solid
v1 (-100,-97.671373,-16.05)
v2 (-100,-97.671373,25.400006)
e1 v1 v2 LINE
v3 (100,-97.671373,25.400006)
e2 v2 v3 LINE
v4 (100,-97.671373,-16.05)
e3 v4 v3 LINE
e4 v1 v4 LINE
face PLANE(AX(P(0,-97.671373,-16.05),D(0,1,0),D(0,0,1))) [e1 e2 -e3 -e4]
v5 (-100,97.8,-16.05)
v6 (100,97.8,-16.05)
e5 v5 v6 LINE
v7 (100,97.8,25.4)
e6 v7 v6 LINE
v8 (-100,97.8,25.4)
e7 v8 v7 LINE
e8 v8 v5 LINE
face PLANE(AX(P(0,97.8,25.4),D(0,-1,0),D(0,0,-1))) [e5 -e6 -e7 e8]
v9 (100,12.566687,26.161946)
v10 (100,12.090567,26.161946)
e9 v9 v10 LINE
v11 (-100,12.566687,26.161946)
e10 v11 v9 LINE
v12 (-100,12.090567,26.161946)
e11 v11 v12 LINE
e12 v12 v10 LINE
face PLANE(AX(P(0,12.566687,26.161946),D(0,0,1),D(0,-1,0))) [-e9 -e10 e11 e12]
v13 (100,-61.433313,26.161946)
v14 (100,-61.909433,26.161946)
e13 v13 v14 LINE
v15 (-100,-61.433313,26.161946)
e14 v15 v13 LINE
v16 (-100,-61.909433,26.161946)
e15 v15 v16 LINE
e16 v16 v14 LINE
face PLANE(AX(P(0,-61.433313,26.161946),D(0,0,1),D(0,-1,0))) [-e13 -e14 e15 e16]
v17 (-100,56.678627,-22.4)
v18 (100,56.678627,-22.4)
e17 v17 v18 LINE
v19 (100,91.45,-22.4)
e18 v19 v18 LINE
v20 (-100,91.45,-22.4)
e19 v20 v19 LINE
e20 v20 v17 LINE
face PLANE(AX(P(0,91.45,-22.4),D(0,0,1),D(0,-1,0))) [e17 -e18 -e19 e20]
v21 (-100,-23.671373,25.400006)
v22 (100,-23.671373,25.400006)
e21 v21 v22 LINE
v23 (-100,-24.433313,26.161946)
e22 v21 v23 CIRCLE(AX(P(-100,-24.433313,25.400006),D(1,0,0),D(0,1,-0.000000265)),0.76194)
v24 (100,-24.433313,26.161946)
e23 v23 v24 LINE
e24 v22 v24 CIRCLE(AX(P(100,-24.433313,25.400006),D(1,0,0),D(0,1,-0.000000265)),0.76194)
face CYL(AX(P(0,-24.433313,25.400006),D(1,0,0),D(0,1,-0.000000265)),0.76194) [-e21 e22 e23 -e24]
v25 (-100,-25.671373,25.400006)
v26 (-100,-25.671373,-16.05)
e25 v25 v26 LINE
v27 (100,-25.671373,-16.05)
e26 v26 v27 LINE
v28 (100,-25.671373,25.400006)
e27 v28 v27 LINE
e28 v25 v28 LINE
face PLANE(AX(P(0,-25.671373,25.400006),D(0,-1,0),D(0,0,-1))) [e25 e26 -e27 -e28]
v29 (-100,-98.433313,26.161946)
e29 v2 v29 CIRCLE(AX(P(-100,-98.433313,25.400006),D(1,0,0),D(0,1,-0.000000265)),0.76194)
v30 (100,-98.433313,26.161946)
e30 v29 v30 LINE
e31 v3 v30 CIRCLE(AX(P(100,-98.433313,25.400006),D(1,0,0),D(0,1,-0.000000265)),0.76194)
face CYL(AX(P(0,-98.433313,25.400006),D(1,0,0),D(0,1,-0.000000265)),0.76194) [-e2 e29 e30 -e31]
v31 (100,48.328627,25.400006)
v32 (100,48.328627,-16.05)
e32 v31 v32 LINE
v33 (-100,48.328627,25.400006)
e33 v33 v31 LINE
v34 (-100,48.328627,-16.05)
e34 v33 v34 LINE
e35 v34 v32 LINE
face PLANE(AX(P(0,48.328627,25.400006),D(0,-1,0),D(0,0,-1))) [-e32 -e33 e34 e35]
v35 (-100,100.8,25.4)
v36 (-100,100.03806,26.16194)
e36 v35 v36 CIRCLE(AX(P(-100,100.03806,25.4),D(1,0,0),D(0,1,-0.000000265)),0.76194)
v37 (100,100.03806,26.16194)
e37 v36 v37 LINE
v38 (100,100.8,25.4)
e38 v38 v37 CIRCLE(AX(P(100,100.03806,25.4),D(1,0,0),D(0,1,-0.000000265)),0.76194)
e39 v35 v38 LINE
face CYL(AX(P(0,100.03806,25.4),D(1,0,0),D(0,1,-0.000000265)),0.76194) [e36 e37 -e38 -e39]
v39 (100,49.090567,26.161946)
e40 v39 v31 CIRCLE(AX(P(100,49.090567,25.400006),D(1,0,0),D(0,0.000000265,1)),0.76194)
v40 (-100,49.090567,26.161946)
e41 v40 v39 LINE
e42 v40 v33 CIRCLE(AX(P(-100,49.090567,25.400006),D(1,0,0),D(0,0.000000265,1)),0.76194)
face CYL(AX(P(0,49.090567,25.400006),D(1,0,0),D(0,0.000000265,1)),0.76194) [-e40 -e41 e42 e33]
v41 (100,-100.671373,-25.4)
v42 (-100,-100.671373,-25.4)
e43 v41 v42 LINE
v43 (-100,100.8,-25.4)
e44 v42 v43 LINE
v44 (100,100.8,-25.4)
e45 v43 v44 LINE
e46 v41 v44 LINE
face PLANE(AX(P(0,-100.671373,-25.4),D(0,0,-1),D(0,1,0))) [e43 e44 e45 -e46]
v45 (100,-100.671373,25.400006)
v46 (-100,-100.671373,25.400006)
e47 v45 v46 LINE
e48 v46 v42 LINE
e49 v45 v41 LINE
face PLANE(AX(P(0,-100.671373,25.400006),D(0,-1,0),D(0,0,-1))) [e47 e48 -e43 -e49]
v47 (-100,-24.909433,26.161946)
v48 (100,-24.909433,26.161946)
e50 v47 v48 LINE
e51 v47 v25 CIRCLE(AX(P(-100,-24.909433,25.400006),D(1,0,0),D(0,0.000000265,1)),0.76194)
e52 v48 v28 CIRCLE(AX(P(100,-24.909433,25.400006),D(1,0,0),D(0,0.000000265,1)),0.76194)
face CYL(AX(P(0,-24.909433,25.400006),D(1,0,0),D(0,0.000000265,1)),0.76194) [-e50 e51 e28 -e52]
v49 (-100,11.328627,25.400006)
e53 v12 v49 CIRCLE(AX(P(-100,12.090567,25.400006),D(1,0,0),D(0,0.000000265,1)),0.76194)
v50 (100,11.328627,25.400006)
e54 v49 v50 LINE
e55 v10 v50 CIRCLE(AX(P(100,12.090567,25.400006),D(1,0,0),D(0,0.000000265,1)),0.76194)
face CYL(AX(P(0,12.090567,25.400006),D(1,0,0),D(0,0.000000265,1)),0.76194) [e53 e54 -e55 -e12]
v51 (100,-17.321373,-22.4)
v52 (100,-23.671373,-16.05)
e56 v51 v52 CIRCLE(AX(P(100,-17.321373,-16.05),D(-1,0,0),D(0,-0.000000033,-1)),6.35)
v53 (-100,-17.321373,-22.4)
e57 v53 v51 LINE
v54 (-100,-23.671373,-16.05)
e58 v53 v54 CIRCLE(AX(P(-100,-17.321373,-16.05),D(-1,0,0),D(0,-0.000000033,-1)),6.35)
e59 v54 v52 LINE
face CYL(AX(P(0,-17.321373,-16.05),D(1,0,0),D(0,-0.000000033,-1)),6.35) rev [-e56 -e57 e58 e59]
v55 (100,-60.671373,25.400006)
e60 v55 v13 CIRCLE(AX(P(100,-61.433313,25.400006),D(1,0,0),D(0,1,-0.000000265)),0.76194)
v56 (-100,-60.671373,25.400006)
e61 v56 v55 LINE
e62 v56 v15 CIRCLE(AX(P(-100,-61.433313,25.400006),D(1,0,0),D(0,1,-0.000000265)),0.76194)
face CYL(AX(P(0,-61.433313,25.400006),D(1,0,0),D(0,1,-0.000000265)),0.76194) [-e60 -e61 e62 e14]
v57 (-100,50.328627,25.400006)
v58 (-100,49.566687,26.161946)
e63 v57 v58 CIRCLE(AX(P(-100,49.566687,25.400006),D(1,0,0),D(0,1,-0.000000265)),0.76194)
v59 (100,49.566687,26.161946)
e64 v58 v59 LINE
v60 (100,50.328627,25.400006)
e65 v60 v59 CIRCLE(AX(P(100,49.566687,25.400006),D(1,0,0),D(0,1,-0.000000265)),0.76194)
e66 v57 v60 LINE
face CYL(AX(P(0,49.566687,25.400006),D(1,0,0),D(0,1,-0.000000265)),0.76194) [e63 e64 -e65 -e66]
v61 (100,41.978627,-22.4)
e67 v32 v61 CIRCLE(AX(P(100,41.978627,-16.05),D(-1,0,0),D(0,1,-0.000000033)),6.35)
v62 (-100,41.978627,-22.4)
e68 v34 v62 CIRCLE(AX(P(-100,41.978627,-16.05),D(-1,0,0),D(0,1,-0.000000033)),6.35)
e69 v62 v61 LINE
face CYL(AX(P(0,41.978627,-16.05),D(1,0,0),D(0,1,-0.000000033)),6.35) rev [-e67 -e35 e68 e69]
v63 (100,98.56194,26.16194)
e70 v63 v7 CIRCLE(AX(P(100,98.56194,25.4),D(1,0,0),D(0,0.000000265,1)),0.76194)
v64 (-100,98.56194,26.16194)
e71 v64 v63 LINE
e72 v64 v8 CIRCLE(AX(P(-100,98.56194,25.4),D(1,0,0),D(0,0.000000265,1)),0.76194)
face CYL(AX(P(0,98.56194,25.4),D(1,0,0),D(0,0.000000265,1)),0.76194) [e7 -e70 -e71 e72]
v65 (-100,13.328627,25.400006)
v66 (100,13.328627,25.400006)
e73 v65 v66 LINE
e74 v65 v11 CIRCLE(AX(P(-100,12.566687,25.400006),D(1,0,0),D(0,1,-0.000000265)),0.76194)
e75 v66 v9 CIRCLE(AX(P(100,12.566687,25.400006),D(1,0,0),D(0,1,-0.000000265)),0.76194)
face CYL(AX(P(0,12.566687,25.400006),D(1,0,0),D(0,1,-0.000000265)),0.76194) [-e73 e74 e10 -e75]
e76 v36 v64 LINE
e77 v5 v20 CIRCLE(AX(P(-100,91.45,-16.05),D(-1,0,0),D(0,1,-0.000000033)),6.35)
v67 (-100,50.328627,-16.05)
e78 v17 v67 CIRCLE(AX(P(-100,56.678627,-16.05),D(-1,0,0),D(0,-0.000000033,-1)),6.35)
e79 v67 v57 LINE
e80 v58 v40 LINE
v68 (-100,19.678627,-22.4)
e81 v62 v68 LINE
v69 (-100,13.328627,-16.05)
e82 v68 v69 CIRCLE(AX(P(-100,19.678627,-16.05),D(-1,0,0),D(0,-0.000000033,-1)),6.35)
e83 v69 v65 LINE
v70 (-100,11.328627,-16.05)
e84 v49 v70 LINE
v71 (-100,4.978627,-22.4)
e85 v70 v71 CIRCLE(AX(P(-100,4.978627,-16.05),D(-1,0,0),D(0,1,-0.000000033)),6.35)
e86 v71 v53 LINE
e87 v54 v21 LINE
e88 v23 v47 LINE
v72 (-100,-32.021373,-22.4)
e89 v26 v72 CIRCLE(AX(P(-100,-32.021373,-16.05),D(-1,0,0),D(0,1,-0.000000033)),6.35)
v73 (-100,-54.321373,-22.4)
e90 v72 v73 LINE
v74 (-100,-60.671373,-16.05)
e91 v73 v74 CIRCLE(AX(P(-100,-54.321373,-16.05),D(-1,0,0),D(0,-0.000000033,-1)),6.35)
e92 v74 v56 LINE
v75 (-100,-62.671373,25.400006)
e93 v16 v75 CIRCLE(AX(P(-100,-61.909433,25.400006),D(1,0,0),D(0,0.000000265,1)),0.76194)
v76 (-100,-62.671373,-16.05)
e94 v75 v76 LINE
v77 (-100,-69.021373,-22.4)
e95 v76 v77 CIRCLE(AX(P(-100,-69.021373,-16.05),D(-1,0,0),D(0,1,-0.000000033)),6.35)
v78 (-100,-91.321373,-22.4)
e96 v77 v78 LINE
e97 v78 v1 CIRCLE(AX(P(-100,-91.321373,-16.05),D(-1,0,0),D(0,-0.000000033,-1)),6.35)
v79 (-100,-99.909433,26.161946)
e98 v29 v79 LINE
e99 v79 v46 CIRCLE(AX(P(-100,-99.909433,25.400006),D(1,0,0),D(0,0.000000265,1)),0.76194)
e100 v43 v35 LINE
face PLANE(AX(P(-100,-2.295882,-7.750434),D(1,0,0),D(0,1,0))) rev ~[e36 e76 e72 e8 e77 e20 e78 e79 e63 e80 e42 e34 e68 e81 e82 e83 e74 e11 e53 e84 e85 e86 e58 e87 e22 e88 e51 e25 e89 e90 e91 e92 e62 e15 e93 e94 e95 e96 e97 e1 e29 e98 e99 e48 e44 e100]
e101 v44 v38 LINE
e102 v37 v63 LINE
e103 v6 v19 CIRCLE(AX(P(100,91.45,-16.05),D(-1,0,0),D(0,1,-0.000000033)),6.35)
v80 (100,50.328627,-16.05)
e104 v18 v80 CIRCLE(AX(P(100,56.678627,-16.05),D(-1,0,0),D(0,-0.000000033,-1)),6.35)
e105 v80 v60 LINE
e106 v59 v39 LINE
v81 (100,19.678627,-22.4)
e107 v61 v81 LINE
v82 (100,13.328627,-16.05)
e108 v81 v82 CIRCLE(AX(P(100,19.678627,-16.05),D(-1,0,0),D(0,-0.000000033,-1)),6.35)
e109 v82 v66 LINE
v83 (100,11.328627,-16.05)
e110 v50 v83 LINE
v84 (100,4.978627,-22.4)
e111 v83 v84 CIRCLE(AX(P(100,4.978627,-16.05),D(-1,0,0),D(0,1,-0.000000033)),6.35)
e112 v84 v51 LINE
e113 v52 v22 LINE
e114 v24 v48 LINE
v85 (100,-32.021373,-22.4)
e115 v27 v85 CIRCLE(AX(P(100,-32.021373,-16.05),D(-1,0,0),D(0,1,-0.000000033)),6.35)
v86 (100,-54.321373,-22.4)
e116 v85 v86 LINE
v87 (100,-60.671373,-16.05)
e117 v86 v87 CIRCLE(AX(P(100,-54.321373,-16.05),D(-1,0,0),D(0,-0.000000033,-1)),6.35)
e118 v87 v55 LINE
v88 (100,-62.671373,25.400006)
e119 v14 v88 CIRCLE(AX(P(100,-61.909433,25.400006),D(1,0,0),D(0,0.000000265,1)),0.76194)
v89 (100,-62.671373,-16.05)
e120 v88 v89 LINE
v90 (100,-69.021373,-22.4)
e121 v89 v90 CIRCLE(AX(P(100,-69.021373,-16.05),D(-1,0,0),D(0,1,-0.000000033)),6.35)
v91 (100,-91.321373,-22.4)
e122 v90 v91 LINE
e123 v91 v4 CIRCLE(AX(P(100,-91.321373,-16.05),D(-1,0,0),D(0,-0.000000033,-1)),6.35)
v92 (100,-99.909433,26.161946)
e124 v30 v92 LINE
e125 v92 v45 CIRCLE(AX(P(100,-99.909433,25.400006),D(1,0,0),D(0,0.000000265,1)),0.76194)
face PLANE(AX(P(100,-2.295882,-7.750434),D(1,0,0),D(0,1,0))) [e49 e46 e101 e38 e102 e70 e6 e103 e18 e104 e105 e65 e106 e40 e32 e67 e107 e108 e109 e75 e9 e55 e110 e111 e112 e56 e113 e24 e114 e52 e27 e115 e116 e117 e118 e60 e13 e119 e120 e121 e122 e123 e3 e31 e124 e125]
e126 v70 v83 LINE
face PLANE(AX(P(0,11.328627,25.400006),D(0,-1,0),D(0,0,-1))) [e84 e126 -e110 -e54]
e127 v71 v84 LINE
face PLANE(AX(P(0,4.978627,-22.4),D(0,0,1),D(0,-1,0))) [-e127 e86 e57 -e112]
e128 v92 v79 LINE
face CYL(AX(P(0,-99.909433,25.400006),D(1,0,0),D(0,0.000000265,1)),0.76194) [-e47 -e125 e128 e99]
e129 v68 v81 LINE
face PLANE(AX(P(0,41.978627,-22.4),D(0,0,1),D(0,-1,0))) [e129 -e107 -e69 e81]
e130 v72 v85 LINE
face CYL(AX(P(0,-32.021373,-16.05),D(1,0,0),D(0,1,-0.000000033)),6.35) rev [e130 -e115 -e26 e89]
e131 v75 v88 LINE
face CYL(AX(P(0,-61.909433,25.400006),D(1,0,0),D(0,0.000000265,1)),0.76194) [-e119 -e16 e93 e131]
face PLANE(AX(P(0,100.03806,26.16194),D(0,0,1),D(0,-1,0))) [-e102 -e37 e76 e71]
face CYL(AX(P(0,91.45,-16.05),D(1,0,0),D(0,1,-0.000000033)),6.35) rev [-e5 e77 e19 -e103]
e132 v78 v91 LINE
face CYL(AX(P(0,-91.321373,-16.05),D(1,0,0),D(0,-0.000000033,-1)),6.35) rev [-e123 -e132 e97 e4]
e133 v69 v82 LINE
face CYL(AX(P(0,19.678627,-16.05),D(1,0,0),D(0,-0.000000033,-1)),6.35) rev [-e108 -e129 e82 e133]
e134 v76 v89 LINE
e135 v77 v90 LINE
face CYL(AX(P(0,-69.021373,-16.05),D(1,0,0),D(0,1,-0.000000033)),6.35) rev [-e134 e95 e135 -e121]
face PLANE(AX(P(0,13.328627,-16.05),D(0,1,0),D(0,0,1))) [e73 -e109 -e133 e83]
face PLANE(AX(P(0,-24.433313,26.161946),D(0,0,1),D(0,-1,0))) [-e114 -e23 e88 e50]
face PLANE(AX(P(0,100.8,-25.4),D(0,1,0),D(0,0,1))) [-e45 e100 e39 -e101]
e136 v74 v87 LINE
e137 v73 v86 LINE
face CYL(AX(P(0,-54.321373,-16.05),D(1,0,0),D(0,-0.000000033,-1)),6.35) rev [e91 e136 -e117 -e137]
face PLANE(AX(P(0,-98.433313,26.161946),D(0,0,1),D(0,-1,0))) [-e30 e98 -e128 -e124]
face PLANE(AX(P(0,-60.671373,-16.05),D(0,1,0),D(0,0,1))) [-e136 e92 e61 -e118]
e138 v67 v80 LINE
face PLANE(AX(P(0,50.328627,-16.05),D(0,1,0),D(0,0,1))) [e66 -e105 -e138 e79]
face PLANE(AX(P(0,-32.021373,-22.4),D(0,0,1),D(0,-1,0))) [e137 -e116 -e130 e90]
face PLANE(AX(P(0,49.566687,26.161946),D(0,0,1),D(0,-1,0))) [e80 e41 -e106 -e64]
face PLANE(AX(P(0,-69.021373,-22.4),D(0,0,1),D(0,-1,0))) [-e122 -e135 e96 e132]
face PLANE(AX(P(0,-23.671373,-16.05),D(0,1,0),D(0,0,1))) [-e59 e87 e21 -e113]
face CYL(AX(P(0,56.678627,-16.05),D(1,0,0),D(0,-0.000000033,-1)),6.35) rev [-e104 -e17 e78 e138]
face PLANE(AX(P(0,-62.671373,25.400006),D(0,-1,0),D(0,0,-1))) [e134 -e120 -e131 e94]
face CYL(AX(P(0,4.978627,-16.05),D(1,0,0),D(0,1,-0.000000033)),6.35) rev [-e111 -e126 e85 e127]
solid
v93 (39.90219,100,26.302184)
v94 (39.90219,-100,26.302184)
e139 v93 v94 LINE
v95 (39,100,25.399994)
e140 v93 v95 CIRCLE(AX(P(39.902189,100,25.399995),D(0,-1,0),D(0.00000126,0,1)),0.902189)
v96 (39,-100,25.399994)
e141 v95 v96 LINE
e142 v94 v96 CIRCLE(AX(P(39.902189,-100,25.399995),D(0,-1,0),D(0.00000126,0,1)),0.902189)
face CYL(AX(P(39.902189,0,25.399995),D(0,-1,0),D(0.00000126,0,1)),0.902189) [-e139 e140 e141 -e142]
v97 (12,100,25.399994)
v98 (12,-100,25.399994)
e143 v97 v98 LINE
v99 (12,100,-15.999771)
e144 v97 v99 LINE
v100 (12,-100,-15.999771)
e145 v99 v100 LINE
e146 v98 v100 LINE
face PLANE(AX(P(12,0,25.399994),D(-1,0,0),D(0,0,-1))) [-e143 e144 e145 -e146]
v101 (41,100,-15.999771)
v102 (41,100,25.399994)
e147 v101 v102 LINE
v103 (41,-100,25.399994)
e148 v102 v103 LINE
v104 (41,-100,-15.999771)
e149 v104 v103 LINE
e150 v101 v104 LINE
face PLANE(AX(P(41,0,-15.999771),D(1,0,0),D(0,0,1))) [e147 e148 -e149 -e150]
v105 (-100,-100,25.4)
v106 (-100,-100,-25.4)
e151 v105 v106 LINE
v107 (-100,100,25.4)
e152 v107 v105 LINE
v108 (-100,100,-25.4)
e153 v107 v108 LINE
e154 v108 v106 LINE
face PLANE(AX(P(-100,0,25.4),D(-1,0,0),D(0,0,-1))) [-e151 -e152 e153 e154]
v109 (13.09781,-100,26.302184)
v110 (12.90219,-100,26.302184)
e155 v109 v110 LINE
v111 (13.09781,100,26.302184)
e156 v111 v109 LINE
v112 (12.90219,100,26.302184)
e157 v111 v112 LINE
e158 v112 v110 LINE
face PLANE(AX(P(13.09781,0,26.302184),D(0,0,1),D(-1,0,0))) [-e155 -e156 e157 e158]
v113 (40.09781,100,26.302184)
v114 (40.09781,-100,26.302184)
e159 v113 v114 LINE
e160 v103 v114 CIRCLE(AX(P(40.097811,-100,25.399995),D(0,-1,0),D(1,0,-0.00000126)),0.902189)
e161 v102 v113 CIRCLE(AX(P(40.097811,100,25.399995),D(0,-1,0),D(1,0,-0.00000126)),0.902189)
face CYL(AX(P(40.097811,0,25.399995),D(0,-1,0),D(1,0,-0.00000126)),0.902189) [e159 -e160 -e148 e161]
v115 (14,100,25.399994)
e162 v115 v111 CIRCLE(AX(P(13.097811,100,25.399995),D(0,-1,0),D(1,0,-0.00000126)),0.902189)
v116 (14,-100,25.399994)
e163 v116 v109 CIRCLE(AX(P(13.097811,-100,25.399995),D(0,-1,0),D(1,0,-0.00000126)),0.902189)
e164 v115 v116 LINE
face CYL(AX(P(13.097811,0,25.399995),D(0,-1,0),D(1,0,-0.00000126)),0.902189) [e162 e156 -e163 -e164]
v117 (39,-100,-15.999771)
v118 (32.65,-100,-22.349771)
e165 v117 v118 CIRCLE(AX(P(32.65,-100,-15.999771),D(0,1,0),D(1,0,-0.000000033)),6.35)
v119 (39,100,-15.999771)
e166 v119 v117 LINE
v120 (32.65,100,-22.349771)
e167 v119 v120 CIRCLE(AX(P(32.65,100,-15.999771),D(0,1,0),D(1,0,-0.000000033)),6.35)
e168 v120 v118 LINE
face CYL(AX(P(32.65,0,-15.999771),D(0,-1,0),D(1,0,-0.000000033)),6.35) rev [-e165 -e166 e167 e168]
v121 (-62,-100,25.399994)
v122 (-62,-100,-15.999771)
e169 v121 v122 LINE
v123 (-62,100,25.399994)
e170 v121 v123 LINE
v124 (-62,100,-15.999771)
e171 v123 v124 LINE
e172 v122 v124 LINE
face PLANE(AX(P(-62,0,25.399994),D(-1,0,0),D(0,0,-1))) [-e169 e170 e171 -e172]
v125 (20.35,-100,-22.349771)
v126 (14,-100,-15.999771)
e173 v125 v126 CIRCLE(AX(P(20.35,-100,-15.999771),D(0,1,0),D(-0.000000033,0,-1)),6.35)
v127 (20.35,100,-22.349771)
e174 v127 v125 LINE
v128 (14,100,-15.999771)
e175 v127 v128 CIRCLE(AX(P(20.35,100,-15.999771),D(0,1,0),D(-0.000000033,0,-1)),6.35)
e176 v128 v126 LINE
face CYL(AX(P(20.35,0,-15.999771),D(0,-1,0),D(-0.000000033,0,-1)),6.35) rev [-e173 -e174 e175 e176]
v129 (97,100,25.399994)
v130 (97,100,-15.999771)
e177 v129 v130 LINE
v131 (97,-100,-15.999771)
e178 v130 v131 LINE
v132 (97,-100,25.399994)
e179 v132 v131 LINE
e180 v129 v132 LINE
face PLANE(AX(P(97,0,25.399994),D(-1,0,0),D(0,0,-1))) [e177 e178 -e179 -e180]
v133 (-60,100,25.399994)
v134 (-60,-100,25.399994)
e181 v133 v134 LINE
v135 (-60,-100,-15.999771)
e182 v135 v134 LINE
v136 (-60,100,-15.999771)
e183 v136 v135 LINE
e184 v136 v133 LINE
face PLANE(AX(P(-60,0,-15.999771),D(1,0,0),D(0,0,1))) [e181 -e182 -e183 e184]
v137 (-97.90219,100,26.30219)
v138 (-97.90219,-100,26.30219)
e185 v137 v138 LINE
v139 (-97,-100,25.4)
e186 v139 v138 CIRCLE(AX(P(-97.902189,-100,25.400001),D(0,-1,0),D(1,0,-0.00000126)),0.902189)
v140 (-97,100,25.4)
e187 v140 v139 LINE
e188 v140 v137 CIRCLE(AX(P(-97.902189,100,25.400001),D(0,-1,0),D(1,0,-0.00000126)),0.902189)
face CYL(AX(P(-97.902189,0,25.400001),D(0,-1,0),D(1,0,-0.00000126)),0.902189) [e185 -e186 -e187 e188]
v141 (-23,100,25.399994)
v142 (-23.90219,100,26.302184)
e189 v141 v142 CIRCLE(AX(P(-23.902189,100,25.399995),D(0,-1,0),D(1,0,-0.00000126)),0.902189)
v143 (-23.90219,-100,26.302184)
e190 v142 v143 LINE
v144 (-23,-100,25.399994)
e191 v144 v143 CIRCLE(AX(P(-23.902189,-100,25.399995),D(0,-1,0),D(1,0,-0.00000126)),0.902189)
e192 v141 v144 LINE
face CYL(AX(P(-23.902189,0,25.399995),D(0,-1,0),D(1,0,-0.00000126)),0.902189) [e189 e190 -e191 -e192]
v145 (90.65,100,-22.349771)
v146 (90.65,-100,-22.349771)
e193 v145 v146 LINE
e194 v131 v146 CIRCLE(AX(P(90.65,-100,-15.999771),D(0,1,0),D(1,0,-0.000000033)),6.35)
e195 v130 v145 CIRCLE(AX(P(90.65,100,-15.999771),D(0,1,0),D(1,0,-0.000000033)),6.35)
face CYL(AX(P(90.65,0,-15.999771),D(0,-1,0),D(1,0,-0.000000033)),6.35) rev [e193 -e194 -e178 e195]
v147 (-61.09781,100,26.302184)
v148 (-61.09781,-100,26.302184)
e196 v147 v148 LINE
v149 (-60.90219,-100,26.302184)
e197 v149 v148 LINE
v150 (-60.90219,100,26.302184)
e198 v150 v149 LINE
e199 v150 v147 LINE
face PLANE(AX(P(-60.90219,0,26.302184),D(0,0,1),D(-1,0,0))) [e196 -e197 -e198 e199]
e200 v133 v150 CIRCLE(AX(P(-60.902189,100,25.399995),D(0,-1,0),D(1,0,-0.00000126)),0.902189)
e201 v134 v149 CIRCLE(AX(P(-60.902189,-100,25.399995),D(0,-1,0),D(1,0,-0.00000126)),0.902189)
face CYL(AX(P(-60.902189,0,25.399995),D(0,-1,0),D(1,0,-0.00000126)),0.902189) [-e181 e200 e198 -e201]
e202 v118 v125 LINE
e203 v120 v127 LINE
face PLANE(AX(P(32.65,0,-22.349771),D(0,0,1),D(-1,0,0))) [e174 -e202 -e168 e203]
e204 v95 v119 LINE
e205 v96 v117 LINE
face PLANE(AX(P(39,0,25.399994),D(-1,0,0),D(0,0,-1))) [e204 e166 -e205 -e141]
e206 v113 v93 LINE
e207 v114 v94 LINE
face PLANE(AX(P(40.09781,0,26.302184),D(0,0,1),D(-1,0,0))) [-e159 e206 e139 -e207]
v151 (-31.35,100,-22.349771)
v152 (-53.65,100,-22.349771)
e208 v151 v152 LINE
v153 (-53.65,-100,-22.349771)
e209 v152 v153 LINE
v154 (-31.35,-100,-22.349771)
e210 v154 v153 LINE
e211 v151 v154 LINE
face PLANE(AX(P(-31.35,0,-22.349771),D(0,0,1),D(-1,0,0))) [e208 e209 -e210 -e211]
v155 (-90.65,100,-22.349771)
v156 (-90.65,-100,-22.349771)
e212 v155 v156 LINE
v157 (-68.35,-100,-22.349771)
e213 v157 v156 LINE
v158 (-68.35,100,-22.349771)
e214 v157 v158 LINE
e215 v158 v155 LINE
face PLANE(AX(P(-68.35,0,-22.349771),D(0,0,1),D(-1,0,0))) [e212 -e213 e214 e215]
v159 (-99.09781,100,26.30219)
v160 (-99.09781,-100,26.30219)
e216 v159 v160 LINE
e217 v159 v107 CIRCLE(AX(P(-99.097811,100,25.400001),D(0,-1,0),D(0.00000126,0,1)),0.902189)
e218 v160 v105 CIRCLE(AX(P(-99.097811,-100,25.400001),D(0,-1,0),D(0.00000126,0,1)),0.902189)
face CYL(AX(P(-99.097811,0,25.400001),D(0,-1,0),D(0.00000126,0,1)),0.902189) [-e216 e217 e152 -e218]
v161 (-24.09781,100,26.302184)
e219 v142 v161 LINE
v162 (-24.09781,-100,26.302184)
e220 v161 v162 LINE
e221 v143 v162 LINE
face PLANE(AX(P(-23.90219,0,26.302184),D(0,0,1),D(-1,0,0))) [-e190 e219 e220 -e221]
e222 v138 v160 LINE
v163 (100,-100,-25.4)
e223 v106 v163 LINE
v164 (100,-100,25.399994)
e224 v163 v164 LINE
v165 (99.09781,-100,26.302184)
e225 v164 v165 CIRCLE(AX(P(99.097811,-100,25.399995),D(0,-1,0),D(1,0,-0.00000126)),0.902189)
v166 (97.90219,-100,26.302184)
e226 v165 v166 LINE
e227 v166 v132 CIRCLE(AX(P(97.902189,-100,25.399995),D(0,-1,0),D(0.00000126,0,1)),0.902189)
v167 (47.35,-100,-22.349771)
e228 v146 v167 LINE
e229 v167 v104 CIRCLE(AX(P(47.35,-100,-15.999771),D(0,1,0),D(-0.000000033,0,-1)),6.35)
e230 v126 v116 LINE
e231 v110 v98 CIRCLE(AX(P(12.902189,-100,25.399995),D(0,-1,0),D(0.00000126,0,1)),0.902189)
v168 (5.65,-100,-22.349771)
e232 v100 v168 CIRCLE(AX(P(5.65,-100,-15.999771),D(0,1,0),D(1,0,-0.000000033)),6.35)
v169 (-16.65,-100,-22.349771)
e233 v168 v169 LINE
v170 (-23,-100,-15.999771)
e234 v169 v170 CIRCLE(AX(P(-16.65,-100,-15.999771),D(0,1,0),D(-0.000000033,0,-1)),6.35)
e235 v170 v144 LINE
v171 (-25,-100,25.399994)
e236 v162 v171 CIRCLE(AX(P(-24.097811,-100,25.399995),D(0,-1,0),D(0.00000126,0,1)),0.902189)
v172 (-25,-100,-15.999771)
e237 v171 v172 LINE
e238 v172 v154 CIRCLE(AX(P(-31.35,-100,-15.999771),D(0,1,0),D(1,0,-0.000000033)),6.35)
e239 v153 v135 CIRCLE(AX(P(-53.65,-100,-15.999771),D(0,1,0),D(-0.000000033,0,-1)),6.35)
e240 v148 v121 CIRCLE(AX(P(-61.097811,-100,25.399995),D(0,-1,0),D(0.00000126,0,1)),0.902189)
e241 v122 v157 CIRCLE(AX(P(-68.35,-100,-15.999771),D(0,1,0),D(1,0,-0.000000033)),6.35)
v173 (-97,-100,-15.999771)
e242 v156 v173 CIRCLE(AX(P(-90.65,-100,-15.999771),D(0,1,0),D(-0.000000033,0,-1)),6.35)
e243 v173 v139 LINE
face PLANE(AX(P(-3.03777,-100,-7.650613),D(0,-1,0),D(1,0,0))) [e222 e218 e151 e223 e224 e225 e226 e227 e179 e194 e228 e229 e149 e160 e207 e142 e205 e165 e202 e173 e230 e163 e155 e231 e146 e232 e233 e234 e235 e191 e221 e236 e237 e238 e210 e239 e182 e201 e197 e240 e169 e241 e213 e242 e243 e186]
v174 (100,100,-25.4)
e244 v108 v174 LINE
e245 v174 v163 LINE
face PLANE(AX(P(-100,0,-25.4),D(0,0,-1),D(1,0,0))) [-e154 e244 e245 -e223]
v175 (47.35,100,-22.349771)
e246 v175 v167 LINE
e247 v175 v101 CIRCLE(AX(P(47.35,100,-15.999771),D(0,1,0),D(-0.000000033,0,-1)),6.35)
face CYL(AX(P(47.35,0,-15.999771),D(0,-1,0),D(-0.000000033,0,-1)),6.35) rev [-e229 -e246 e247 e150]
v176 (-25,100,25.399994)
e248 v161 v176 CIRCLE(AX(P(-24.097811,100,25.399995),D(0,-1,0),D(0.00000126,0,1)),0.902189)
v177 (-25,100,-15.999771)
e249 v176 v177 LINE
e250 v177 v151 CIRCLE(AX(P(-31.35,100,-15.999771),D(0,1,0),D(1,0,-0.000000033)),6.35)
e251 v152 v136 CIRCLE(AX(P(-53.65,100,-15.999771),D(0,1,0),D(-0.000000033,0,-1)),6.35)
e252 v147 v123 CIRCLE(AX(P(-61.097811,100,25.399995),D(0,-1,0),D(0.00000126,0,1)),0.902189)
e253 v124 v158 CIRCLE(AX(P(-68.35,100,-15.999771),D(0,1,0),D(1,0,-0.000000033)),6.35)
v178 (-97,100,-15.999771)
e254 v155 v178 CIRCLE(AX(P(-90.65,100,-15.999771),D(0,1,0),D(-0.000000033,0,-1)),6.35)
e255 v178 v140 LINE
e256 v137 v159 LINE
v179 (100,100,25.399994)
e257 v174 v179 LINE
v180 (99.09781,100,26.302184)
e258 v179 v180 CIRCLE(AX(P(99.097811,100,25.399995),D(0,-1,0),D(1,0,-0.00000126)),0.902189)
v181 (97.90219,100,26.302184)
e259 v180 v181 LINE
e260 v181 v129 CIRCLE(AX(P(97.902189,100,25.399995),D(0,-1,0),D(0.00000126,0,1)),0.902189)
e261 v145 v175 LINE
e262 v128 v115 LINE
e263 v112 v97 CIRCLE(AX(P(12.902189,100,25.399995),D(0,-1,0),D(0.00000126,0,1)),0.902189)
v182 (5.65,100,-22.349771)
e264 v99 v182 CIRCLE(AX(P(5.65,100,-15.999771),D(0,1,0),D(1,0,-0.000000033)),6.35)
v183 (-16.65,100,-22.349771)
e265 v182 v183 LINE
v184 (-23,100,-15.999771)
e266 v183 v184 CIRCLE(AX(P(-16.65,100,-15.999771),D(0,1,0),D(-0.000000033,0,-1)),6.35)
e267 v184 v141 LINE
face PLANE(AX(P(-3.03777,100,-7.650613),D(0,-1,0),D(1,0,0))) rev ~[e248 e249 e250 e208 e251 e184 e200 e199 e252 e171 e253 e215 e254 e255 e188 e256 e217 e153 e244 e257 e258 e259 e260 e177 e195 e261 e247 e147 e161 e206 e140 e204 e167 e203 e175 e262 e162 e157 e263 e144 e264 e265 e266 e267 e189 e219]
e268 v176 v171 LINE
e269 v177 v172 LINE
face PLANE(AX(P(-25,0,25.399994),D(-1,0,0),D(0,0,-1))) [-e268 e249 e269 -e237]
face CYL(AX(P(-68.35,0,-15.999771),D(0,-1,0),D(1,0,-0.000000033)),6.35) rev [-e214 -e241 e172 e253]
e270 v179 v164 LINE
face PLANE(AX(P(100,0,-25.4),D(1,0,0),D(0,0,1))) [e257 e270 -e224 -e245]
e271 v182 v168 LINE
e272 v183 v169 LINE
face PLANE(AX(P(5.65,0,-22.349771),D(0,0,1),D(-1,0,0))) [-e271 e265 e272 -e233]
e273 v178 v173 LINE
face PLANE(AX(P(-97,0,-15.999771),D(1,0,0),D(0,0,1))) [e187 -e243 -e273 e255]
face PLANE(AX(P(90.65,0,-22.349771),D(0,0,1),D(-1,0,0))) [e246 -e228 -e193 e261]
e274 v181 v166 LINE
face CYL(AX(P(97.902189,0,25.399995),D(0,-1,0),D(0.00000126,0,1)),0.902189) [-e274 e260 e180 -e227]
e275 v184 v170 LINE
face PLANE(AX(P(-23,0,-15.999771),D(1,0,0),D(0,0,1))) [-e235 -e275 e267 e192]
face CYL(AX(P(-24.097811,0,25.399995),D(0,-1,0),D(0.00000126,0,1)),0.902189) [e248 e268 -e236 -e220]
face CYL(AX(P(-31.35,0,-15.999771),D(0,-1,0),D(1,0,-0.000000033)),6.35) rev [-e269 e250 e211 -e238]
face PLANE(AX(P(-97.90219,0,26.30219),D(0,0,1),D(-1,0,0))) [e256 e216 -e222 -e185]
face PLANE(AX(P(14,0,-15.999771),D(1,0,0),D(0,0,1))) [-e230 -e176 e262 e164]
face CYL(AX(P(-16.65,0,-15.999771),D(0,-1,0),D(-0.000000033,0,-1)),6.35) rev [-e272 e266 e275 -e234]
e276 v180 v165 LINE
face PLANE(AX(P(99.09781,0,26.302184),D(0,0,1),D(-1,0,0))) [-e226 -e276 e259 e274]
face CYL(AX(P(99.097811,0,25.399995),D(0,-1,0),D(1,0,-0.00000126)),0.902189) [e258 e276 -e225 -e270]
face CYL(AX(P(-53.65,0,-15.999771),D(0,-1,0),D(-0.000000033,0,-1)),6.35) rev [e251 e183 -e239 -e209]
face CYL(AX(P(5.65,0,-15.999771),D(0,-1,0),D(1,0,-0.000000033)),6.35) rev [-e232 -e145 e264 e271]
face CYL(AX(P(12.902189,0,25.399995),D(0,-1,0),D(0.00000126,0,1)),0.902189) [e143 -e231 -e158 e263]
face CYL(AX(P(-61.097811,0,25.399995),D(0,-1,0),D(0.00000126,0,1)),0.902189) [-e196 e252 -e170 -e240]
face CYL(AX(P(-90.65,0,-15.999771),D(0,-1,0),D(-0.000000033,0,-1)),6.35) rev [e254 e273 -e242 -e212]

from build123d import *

# Parameters (mm, degrees)
F2_DEPTH = 100
F3_DEPTH = 100


with BuildPart() as f2:
    # F0 (on Front) → F2 (new body, symmetric)
    with BuildSketch(Plane.XZ):
        with BuildLine():
            Line((-68.35, -22.349771), (-90.65, -22.349771))
            ThreePointArc((-90.65, -22.349771), (-95.140128, -20.489899), (-97, -15.999771))
            Line((-97, -15.999771), (-97, 25.4))
            ThreePointArc((-97, 25.4), (-97.264245, 26.037945), (-97.90219, 26.30219))
            Line((-97.90219, 26.30219), (-99.09781, 26.30219))
            ThreePointArc((-99.09781, 26.30219), (-99.735755, 26.037945), (-100, 25.4))
            Line((-100, 25.4), (-100, -25.4))
            Line((-100, -25.4), (100, -25.4))
            Line((100, -25.4), (100, 25.399994))
            ThreePointArc((100, 25.399994), (99.735755, 26.037939), (99.09781, 26.302184))
            Line((99.09781, 26.302184), (97.90219, 26.302184))
            ThreePointArc((97.90219, 26.302184), (97.264245, 26.037939), (97, 25.399994))
            Line((97, 25.399994), (97, -15.999771))
            ThreePointArc((97, -15.999771), (95.140128, -20.489899), (90.65, -22.349771))
            Line((90.65, -22.349771), (47.35, -22.349771))
            ThreePointArc((47.35, -22.349771), (42.859872, -20.489899), (41, -15.999771))
            Line((41, -15.999771), (41, 25.399994))
            ThreePointArc((41, 25.399994), (40.735755, 26.037939), (40.09781, 26.302184))
            Line((40.09781, 26.302184), (39.90219, 26.302184))
            ThreePointArc((39.90219, 26.302184), (39.264245, 26.037939), (39, 25.399994))
            Line((39, 25.399994), (39, -15.999771))
            ThreePointArc((39, -15.999771), (37.140128, -20.489899), (32.65, -22.349771))
            Line((32.65, -22.349771), (20.35, -22.349771))
            ThreePointArc((20.35, -22.349771), (15.859872, -20.489899), (14, -15.999771))
            Line((14, -15.999771), (14, 25.399994))
            ThreePointArc((14, 25.399994), (13.735755, 26.037939), (13.09781, 26.302184))
            Line((13.09781, 26.302184), (12.90219, 26.302184))
            ThreePointArc((12.90219, 26.302184), (12.264245, 26.037939), (12, 25.399994))
            Line((12, 25.399994), (12, -15.999771))
            ThreePointArc((12, -15.999771), (10.140128, -20.489899), (5.65, -22.349771))
            Line((5.65, -22.349771), (-16.65, -22.349771))
            ThreePointArc((-16.65, -22.349771), (-21.140128, -20.489899), (-23, -15.999771))
            Line((-23, -15.999771), (-23, 25.399994))
            ThreePointArc((-23, 25.399994), (-23.264245, 26.037939), (-23.90219, 26.302184))
            Line((-23.90219, 26.302184), (-24.09781, 26.302184))
            ThreePointArc((-24.09781, 26.302184), (-24.735755, 26.037939), (-25, 25.399994))
            Line((-25, 25.399994), (-25, -15.999771))
            ThreePointArc((-25, -15.999771), (-26.859872, -20.489899), (-31.35, -22.349771))
            Line((-31.35, -22.349771), (-53.65, -22.349771))
            ThreePointArc((-53.65, -22.349771), (-58.140128, -20.489899), (-60, -15.999771))
            Line((-60, -15.999771), (-60, 25.399994))
            ThreePointArc((-60, 25.399994), (-60.264245, 26.037939), (-60.90219, 26.302184))
            Line((-60.90219, 26.302184), (-61.09781, 26.302184))
            ThreePointArc((-61.09781, 26.302184), (-61.735755, 26.037939), (-62, 25.399994))
            Line((-62, 25.399994), (-62, -15.999771))
            ThreePointArc((-62, -15.999771), (-63.859872, -20.489899), (-68.35, -22.349771))
        make_face()
    extrude(amount=F2_DEPTH, both=True)


with BuildPart() as f3:
    # F1 (on Right) → F3 (new body, symmetric)
    with BuildSketch(Plane.YZ):
        with BuildLine():
            Line((-100.671373, -25.4), (99.328627, -25.4))
            Line((99.328627, -25.4), (100.8, -25.4))
            Line((100.8, -25.4), (100.8, 25.4))
            ThreePointArc((100.8, 25.4), (100.576833, 25.938773), (100.03806, 26.16194))
            Line((100.03806, 26.16194), (98.56194, 26.16194))
            ThreePointArc((98.56194, 26.16194), (98.023167, 25.938773), (97.8, 25.4))
            Line((97.8, 25.4), (97.8, -16.05))
            ThreePointArc((97.8, -16.05), (95.940128, -20.540128), (91.45, -22.4))
            Line((91.45, -22.4), (56.678627, -22.4))
            ThreePointArc((56.678627, -22.4), (52.188499, -20.540128), (50.328627, -16.05))
            Line((50.328627, -16.05), (50.328627, 25.400006))
            ThreePointArc((50.328627, 25.400006), (50.10546, 25.938779), (49.566687, 26.161946))
            Line((49.566687, 26.161946), (49.090567, 26.161946))
            ThreePointArc((49.090567, 26.161946), (48.551794, 25.938779), (48.328627, 25.400006))
            Line((48.328627, 25.400006), (48.328627, -16.05))
            ThreePointArc((48.328627, -16.05), (46.468755, -20.540128), (41.978627, -22.4))
            Line((41.978627, -22.4), (19.678627, -22.4))
            ThreePointArc((19.678627, -22.4), (15.188499, -20.540128), (13.328627, -16.05))
            Line((13.328627, -16.05), (13.328627, 25.400006))
            ThreePointArc((13.328627, 25.400006), (13.10546, 25.938779), (12.566687, 26.161946))
            Line((12.566687, 26.161946), (12.090567, 26.161946))
            ThreePointArc((12.090567, 26.161946), (11.551794, 25.938779), (11.328627, 25.400006))
            Line((11.328627, 25.400006), (11.328627, -16.05))
            ThreePointArc((11.328627, -16.05), (9.468755, -20.540128), (4.978627, -22.4))
            Line((4.978627, -22.4), (-17.321373, -22.4))
            ThreePointArc((-17.321373, -22.4), (-21.811501, -20.540128), (-23.671373, -16.05))
            Line((-23.671373, -16.05), (-23.671373, 25.400006))
            ThreePointArc((-23.671373, 25.400006), (-23.89454, 25.938779), (-24.433313, 26.161946))
            Line((-24.433313, 26.161946), (-24.909433, 26.161946))
            ThreePointArc((-24.909433, 26.161946), (-25.448206, 25.938779), (-25.671373, 25.400006))
            Line((-25.671373, 25.400006), (-25.671373, -16.05))
            ThreePointArc((-25.671373, -16.05), (-27.531245, -20.540128), (-32.021373, -22.4))
            Line((-32.021373, -22.4), (-54.321373, -22.4))
            ThreePointArc((-54.321373, -22.4), (-58.811501, -20.540128), (-60.671373, -16.05))
            Line((-60.671373, -16.05), (-60.671373, 25.400006))
            ThreePointArc((-60.671373, 25.400006), (-60.89454, 25.938779), (-61.433313, 26.161946))
            Line((-61.433313, 26.161946), (-61.909433, 26.161946))
            ThreePointArc((-61.909433, 26.161946), (-62.448206, 25.938779), (-62.671373, 25.400006))
            Line((-62.671373, 25.400006), (-62.671373, -16.05))
            ThreePointArc((-62.671373, -16.05), (-64.531245, -20.540128), (-69.021373, -22.4))
            Line((-69.021373, -22.4), (-91.321373, -22.4))
            ThreePointArc((-91.321373, -22.4), (-95.811501, -20.540128), (-97.671373, -16.05))
            Line((-97.671373, -16.05), (-97.671373, 25.400006))
            ThreePointArc((-97.671373, 25.400006), (-97.89454, 25.938779), (-98.433313, 26.161946))
            Line((-98.433313, 26.161946), (-99.909433, 26.161946))
            ThreePointArc((-99.909433, 26.161946), (-100.448206, 25.938779), (-100.671373, 25.400006))
            Line((-100.671373, 25.400006), (-100.671373, -25.4))
        make_face()
    extrude(amount=F3_DEPTH, both=True)


solid = Compound([f2.part, f3.part])
